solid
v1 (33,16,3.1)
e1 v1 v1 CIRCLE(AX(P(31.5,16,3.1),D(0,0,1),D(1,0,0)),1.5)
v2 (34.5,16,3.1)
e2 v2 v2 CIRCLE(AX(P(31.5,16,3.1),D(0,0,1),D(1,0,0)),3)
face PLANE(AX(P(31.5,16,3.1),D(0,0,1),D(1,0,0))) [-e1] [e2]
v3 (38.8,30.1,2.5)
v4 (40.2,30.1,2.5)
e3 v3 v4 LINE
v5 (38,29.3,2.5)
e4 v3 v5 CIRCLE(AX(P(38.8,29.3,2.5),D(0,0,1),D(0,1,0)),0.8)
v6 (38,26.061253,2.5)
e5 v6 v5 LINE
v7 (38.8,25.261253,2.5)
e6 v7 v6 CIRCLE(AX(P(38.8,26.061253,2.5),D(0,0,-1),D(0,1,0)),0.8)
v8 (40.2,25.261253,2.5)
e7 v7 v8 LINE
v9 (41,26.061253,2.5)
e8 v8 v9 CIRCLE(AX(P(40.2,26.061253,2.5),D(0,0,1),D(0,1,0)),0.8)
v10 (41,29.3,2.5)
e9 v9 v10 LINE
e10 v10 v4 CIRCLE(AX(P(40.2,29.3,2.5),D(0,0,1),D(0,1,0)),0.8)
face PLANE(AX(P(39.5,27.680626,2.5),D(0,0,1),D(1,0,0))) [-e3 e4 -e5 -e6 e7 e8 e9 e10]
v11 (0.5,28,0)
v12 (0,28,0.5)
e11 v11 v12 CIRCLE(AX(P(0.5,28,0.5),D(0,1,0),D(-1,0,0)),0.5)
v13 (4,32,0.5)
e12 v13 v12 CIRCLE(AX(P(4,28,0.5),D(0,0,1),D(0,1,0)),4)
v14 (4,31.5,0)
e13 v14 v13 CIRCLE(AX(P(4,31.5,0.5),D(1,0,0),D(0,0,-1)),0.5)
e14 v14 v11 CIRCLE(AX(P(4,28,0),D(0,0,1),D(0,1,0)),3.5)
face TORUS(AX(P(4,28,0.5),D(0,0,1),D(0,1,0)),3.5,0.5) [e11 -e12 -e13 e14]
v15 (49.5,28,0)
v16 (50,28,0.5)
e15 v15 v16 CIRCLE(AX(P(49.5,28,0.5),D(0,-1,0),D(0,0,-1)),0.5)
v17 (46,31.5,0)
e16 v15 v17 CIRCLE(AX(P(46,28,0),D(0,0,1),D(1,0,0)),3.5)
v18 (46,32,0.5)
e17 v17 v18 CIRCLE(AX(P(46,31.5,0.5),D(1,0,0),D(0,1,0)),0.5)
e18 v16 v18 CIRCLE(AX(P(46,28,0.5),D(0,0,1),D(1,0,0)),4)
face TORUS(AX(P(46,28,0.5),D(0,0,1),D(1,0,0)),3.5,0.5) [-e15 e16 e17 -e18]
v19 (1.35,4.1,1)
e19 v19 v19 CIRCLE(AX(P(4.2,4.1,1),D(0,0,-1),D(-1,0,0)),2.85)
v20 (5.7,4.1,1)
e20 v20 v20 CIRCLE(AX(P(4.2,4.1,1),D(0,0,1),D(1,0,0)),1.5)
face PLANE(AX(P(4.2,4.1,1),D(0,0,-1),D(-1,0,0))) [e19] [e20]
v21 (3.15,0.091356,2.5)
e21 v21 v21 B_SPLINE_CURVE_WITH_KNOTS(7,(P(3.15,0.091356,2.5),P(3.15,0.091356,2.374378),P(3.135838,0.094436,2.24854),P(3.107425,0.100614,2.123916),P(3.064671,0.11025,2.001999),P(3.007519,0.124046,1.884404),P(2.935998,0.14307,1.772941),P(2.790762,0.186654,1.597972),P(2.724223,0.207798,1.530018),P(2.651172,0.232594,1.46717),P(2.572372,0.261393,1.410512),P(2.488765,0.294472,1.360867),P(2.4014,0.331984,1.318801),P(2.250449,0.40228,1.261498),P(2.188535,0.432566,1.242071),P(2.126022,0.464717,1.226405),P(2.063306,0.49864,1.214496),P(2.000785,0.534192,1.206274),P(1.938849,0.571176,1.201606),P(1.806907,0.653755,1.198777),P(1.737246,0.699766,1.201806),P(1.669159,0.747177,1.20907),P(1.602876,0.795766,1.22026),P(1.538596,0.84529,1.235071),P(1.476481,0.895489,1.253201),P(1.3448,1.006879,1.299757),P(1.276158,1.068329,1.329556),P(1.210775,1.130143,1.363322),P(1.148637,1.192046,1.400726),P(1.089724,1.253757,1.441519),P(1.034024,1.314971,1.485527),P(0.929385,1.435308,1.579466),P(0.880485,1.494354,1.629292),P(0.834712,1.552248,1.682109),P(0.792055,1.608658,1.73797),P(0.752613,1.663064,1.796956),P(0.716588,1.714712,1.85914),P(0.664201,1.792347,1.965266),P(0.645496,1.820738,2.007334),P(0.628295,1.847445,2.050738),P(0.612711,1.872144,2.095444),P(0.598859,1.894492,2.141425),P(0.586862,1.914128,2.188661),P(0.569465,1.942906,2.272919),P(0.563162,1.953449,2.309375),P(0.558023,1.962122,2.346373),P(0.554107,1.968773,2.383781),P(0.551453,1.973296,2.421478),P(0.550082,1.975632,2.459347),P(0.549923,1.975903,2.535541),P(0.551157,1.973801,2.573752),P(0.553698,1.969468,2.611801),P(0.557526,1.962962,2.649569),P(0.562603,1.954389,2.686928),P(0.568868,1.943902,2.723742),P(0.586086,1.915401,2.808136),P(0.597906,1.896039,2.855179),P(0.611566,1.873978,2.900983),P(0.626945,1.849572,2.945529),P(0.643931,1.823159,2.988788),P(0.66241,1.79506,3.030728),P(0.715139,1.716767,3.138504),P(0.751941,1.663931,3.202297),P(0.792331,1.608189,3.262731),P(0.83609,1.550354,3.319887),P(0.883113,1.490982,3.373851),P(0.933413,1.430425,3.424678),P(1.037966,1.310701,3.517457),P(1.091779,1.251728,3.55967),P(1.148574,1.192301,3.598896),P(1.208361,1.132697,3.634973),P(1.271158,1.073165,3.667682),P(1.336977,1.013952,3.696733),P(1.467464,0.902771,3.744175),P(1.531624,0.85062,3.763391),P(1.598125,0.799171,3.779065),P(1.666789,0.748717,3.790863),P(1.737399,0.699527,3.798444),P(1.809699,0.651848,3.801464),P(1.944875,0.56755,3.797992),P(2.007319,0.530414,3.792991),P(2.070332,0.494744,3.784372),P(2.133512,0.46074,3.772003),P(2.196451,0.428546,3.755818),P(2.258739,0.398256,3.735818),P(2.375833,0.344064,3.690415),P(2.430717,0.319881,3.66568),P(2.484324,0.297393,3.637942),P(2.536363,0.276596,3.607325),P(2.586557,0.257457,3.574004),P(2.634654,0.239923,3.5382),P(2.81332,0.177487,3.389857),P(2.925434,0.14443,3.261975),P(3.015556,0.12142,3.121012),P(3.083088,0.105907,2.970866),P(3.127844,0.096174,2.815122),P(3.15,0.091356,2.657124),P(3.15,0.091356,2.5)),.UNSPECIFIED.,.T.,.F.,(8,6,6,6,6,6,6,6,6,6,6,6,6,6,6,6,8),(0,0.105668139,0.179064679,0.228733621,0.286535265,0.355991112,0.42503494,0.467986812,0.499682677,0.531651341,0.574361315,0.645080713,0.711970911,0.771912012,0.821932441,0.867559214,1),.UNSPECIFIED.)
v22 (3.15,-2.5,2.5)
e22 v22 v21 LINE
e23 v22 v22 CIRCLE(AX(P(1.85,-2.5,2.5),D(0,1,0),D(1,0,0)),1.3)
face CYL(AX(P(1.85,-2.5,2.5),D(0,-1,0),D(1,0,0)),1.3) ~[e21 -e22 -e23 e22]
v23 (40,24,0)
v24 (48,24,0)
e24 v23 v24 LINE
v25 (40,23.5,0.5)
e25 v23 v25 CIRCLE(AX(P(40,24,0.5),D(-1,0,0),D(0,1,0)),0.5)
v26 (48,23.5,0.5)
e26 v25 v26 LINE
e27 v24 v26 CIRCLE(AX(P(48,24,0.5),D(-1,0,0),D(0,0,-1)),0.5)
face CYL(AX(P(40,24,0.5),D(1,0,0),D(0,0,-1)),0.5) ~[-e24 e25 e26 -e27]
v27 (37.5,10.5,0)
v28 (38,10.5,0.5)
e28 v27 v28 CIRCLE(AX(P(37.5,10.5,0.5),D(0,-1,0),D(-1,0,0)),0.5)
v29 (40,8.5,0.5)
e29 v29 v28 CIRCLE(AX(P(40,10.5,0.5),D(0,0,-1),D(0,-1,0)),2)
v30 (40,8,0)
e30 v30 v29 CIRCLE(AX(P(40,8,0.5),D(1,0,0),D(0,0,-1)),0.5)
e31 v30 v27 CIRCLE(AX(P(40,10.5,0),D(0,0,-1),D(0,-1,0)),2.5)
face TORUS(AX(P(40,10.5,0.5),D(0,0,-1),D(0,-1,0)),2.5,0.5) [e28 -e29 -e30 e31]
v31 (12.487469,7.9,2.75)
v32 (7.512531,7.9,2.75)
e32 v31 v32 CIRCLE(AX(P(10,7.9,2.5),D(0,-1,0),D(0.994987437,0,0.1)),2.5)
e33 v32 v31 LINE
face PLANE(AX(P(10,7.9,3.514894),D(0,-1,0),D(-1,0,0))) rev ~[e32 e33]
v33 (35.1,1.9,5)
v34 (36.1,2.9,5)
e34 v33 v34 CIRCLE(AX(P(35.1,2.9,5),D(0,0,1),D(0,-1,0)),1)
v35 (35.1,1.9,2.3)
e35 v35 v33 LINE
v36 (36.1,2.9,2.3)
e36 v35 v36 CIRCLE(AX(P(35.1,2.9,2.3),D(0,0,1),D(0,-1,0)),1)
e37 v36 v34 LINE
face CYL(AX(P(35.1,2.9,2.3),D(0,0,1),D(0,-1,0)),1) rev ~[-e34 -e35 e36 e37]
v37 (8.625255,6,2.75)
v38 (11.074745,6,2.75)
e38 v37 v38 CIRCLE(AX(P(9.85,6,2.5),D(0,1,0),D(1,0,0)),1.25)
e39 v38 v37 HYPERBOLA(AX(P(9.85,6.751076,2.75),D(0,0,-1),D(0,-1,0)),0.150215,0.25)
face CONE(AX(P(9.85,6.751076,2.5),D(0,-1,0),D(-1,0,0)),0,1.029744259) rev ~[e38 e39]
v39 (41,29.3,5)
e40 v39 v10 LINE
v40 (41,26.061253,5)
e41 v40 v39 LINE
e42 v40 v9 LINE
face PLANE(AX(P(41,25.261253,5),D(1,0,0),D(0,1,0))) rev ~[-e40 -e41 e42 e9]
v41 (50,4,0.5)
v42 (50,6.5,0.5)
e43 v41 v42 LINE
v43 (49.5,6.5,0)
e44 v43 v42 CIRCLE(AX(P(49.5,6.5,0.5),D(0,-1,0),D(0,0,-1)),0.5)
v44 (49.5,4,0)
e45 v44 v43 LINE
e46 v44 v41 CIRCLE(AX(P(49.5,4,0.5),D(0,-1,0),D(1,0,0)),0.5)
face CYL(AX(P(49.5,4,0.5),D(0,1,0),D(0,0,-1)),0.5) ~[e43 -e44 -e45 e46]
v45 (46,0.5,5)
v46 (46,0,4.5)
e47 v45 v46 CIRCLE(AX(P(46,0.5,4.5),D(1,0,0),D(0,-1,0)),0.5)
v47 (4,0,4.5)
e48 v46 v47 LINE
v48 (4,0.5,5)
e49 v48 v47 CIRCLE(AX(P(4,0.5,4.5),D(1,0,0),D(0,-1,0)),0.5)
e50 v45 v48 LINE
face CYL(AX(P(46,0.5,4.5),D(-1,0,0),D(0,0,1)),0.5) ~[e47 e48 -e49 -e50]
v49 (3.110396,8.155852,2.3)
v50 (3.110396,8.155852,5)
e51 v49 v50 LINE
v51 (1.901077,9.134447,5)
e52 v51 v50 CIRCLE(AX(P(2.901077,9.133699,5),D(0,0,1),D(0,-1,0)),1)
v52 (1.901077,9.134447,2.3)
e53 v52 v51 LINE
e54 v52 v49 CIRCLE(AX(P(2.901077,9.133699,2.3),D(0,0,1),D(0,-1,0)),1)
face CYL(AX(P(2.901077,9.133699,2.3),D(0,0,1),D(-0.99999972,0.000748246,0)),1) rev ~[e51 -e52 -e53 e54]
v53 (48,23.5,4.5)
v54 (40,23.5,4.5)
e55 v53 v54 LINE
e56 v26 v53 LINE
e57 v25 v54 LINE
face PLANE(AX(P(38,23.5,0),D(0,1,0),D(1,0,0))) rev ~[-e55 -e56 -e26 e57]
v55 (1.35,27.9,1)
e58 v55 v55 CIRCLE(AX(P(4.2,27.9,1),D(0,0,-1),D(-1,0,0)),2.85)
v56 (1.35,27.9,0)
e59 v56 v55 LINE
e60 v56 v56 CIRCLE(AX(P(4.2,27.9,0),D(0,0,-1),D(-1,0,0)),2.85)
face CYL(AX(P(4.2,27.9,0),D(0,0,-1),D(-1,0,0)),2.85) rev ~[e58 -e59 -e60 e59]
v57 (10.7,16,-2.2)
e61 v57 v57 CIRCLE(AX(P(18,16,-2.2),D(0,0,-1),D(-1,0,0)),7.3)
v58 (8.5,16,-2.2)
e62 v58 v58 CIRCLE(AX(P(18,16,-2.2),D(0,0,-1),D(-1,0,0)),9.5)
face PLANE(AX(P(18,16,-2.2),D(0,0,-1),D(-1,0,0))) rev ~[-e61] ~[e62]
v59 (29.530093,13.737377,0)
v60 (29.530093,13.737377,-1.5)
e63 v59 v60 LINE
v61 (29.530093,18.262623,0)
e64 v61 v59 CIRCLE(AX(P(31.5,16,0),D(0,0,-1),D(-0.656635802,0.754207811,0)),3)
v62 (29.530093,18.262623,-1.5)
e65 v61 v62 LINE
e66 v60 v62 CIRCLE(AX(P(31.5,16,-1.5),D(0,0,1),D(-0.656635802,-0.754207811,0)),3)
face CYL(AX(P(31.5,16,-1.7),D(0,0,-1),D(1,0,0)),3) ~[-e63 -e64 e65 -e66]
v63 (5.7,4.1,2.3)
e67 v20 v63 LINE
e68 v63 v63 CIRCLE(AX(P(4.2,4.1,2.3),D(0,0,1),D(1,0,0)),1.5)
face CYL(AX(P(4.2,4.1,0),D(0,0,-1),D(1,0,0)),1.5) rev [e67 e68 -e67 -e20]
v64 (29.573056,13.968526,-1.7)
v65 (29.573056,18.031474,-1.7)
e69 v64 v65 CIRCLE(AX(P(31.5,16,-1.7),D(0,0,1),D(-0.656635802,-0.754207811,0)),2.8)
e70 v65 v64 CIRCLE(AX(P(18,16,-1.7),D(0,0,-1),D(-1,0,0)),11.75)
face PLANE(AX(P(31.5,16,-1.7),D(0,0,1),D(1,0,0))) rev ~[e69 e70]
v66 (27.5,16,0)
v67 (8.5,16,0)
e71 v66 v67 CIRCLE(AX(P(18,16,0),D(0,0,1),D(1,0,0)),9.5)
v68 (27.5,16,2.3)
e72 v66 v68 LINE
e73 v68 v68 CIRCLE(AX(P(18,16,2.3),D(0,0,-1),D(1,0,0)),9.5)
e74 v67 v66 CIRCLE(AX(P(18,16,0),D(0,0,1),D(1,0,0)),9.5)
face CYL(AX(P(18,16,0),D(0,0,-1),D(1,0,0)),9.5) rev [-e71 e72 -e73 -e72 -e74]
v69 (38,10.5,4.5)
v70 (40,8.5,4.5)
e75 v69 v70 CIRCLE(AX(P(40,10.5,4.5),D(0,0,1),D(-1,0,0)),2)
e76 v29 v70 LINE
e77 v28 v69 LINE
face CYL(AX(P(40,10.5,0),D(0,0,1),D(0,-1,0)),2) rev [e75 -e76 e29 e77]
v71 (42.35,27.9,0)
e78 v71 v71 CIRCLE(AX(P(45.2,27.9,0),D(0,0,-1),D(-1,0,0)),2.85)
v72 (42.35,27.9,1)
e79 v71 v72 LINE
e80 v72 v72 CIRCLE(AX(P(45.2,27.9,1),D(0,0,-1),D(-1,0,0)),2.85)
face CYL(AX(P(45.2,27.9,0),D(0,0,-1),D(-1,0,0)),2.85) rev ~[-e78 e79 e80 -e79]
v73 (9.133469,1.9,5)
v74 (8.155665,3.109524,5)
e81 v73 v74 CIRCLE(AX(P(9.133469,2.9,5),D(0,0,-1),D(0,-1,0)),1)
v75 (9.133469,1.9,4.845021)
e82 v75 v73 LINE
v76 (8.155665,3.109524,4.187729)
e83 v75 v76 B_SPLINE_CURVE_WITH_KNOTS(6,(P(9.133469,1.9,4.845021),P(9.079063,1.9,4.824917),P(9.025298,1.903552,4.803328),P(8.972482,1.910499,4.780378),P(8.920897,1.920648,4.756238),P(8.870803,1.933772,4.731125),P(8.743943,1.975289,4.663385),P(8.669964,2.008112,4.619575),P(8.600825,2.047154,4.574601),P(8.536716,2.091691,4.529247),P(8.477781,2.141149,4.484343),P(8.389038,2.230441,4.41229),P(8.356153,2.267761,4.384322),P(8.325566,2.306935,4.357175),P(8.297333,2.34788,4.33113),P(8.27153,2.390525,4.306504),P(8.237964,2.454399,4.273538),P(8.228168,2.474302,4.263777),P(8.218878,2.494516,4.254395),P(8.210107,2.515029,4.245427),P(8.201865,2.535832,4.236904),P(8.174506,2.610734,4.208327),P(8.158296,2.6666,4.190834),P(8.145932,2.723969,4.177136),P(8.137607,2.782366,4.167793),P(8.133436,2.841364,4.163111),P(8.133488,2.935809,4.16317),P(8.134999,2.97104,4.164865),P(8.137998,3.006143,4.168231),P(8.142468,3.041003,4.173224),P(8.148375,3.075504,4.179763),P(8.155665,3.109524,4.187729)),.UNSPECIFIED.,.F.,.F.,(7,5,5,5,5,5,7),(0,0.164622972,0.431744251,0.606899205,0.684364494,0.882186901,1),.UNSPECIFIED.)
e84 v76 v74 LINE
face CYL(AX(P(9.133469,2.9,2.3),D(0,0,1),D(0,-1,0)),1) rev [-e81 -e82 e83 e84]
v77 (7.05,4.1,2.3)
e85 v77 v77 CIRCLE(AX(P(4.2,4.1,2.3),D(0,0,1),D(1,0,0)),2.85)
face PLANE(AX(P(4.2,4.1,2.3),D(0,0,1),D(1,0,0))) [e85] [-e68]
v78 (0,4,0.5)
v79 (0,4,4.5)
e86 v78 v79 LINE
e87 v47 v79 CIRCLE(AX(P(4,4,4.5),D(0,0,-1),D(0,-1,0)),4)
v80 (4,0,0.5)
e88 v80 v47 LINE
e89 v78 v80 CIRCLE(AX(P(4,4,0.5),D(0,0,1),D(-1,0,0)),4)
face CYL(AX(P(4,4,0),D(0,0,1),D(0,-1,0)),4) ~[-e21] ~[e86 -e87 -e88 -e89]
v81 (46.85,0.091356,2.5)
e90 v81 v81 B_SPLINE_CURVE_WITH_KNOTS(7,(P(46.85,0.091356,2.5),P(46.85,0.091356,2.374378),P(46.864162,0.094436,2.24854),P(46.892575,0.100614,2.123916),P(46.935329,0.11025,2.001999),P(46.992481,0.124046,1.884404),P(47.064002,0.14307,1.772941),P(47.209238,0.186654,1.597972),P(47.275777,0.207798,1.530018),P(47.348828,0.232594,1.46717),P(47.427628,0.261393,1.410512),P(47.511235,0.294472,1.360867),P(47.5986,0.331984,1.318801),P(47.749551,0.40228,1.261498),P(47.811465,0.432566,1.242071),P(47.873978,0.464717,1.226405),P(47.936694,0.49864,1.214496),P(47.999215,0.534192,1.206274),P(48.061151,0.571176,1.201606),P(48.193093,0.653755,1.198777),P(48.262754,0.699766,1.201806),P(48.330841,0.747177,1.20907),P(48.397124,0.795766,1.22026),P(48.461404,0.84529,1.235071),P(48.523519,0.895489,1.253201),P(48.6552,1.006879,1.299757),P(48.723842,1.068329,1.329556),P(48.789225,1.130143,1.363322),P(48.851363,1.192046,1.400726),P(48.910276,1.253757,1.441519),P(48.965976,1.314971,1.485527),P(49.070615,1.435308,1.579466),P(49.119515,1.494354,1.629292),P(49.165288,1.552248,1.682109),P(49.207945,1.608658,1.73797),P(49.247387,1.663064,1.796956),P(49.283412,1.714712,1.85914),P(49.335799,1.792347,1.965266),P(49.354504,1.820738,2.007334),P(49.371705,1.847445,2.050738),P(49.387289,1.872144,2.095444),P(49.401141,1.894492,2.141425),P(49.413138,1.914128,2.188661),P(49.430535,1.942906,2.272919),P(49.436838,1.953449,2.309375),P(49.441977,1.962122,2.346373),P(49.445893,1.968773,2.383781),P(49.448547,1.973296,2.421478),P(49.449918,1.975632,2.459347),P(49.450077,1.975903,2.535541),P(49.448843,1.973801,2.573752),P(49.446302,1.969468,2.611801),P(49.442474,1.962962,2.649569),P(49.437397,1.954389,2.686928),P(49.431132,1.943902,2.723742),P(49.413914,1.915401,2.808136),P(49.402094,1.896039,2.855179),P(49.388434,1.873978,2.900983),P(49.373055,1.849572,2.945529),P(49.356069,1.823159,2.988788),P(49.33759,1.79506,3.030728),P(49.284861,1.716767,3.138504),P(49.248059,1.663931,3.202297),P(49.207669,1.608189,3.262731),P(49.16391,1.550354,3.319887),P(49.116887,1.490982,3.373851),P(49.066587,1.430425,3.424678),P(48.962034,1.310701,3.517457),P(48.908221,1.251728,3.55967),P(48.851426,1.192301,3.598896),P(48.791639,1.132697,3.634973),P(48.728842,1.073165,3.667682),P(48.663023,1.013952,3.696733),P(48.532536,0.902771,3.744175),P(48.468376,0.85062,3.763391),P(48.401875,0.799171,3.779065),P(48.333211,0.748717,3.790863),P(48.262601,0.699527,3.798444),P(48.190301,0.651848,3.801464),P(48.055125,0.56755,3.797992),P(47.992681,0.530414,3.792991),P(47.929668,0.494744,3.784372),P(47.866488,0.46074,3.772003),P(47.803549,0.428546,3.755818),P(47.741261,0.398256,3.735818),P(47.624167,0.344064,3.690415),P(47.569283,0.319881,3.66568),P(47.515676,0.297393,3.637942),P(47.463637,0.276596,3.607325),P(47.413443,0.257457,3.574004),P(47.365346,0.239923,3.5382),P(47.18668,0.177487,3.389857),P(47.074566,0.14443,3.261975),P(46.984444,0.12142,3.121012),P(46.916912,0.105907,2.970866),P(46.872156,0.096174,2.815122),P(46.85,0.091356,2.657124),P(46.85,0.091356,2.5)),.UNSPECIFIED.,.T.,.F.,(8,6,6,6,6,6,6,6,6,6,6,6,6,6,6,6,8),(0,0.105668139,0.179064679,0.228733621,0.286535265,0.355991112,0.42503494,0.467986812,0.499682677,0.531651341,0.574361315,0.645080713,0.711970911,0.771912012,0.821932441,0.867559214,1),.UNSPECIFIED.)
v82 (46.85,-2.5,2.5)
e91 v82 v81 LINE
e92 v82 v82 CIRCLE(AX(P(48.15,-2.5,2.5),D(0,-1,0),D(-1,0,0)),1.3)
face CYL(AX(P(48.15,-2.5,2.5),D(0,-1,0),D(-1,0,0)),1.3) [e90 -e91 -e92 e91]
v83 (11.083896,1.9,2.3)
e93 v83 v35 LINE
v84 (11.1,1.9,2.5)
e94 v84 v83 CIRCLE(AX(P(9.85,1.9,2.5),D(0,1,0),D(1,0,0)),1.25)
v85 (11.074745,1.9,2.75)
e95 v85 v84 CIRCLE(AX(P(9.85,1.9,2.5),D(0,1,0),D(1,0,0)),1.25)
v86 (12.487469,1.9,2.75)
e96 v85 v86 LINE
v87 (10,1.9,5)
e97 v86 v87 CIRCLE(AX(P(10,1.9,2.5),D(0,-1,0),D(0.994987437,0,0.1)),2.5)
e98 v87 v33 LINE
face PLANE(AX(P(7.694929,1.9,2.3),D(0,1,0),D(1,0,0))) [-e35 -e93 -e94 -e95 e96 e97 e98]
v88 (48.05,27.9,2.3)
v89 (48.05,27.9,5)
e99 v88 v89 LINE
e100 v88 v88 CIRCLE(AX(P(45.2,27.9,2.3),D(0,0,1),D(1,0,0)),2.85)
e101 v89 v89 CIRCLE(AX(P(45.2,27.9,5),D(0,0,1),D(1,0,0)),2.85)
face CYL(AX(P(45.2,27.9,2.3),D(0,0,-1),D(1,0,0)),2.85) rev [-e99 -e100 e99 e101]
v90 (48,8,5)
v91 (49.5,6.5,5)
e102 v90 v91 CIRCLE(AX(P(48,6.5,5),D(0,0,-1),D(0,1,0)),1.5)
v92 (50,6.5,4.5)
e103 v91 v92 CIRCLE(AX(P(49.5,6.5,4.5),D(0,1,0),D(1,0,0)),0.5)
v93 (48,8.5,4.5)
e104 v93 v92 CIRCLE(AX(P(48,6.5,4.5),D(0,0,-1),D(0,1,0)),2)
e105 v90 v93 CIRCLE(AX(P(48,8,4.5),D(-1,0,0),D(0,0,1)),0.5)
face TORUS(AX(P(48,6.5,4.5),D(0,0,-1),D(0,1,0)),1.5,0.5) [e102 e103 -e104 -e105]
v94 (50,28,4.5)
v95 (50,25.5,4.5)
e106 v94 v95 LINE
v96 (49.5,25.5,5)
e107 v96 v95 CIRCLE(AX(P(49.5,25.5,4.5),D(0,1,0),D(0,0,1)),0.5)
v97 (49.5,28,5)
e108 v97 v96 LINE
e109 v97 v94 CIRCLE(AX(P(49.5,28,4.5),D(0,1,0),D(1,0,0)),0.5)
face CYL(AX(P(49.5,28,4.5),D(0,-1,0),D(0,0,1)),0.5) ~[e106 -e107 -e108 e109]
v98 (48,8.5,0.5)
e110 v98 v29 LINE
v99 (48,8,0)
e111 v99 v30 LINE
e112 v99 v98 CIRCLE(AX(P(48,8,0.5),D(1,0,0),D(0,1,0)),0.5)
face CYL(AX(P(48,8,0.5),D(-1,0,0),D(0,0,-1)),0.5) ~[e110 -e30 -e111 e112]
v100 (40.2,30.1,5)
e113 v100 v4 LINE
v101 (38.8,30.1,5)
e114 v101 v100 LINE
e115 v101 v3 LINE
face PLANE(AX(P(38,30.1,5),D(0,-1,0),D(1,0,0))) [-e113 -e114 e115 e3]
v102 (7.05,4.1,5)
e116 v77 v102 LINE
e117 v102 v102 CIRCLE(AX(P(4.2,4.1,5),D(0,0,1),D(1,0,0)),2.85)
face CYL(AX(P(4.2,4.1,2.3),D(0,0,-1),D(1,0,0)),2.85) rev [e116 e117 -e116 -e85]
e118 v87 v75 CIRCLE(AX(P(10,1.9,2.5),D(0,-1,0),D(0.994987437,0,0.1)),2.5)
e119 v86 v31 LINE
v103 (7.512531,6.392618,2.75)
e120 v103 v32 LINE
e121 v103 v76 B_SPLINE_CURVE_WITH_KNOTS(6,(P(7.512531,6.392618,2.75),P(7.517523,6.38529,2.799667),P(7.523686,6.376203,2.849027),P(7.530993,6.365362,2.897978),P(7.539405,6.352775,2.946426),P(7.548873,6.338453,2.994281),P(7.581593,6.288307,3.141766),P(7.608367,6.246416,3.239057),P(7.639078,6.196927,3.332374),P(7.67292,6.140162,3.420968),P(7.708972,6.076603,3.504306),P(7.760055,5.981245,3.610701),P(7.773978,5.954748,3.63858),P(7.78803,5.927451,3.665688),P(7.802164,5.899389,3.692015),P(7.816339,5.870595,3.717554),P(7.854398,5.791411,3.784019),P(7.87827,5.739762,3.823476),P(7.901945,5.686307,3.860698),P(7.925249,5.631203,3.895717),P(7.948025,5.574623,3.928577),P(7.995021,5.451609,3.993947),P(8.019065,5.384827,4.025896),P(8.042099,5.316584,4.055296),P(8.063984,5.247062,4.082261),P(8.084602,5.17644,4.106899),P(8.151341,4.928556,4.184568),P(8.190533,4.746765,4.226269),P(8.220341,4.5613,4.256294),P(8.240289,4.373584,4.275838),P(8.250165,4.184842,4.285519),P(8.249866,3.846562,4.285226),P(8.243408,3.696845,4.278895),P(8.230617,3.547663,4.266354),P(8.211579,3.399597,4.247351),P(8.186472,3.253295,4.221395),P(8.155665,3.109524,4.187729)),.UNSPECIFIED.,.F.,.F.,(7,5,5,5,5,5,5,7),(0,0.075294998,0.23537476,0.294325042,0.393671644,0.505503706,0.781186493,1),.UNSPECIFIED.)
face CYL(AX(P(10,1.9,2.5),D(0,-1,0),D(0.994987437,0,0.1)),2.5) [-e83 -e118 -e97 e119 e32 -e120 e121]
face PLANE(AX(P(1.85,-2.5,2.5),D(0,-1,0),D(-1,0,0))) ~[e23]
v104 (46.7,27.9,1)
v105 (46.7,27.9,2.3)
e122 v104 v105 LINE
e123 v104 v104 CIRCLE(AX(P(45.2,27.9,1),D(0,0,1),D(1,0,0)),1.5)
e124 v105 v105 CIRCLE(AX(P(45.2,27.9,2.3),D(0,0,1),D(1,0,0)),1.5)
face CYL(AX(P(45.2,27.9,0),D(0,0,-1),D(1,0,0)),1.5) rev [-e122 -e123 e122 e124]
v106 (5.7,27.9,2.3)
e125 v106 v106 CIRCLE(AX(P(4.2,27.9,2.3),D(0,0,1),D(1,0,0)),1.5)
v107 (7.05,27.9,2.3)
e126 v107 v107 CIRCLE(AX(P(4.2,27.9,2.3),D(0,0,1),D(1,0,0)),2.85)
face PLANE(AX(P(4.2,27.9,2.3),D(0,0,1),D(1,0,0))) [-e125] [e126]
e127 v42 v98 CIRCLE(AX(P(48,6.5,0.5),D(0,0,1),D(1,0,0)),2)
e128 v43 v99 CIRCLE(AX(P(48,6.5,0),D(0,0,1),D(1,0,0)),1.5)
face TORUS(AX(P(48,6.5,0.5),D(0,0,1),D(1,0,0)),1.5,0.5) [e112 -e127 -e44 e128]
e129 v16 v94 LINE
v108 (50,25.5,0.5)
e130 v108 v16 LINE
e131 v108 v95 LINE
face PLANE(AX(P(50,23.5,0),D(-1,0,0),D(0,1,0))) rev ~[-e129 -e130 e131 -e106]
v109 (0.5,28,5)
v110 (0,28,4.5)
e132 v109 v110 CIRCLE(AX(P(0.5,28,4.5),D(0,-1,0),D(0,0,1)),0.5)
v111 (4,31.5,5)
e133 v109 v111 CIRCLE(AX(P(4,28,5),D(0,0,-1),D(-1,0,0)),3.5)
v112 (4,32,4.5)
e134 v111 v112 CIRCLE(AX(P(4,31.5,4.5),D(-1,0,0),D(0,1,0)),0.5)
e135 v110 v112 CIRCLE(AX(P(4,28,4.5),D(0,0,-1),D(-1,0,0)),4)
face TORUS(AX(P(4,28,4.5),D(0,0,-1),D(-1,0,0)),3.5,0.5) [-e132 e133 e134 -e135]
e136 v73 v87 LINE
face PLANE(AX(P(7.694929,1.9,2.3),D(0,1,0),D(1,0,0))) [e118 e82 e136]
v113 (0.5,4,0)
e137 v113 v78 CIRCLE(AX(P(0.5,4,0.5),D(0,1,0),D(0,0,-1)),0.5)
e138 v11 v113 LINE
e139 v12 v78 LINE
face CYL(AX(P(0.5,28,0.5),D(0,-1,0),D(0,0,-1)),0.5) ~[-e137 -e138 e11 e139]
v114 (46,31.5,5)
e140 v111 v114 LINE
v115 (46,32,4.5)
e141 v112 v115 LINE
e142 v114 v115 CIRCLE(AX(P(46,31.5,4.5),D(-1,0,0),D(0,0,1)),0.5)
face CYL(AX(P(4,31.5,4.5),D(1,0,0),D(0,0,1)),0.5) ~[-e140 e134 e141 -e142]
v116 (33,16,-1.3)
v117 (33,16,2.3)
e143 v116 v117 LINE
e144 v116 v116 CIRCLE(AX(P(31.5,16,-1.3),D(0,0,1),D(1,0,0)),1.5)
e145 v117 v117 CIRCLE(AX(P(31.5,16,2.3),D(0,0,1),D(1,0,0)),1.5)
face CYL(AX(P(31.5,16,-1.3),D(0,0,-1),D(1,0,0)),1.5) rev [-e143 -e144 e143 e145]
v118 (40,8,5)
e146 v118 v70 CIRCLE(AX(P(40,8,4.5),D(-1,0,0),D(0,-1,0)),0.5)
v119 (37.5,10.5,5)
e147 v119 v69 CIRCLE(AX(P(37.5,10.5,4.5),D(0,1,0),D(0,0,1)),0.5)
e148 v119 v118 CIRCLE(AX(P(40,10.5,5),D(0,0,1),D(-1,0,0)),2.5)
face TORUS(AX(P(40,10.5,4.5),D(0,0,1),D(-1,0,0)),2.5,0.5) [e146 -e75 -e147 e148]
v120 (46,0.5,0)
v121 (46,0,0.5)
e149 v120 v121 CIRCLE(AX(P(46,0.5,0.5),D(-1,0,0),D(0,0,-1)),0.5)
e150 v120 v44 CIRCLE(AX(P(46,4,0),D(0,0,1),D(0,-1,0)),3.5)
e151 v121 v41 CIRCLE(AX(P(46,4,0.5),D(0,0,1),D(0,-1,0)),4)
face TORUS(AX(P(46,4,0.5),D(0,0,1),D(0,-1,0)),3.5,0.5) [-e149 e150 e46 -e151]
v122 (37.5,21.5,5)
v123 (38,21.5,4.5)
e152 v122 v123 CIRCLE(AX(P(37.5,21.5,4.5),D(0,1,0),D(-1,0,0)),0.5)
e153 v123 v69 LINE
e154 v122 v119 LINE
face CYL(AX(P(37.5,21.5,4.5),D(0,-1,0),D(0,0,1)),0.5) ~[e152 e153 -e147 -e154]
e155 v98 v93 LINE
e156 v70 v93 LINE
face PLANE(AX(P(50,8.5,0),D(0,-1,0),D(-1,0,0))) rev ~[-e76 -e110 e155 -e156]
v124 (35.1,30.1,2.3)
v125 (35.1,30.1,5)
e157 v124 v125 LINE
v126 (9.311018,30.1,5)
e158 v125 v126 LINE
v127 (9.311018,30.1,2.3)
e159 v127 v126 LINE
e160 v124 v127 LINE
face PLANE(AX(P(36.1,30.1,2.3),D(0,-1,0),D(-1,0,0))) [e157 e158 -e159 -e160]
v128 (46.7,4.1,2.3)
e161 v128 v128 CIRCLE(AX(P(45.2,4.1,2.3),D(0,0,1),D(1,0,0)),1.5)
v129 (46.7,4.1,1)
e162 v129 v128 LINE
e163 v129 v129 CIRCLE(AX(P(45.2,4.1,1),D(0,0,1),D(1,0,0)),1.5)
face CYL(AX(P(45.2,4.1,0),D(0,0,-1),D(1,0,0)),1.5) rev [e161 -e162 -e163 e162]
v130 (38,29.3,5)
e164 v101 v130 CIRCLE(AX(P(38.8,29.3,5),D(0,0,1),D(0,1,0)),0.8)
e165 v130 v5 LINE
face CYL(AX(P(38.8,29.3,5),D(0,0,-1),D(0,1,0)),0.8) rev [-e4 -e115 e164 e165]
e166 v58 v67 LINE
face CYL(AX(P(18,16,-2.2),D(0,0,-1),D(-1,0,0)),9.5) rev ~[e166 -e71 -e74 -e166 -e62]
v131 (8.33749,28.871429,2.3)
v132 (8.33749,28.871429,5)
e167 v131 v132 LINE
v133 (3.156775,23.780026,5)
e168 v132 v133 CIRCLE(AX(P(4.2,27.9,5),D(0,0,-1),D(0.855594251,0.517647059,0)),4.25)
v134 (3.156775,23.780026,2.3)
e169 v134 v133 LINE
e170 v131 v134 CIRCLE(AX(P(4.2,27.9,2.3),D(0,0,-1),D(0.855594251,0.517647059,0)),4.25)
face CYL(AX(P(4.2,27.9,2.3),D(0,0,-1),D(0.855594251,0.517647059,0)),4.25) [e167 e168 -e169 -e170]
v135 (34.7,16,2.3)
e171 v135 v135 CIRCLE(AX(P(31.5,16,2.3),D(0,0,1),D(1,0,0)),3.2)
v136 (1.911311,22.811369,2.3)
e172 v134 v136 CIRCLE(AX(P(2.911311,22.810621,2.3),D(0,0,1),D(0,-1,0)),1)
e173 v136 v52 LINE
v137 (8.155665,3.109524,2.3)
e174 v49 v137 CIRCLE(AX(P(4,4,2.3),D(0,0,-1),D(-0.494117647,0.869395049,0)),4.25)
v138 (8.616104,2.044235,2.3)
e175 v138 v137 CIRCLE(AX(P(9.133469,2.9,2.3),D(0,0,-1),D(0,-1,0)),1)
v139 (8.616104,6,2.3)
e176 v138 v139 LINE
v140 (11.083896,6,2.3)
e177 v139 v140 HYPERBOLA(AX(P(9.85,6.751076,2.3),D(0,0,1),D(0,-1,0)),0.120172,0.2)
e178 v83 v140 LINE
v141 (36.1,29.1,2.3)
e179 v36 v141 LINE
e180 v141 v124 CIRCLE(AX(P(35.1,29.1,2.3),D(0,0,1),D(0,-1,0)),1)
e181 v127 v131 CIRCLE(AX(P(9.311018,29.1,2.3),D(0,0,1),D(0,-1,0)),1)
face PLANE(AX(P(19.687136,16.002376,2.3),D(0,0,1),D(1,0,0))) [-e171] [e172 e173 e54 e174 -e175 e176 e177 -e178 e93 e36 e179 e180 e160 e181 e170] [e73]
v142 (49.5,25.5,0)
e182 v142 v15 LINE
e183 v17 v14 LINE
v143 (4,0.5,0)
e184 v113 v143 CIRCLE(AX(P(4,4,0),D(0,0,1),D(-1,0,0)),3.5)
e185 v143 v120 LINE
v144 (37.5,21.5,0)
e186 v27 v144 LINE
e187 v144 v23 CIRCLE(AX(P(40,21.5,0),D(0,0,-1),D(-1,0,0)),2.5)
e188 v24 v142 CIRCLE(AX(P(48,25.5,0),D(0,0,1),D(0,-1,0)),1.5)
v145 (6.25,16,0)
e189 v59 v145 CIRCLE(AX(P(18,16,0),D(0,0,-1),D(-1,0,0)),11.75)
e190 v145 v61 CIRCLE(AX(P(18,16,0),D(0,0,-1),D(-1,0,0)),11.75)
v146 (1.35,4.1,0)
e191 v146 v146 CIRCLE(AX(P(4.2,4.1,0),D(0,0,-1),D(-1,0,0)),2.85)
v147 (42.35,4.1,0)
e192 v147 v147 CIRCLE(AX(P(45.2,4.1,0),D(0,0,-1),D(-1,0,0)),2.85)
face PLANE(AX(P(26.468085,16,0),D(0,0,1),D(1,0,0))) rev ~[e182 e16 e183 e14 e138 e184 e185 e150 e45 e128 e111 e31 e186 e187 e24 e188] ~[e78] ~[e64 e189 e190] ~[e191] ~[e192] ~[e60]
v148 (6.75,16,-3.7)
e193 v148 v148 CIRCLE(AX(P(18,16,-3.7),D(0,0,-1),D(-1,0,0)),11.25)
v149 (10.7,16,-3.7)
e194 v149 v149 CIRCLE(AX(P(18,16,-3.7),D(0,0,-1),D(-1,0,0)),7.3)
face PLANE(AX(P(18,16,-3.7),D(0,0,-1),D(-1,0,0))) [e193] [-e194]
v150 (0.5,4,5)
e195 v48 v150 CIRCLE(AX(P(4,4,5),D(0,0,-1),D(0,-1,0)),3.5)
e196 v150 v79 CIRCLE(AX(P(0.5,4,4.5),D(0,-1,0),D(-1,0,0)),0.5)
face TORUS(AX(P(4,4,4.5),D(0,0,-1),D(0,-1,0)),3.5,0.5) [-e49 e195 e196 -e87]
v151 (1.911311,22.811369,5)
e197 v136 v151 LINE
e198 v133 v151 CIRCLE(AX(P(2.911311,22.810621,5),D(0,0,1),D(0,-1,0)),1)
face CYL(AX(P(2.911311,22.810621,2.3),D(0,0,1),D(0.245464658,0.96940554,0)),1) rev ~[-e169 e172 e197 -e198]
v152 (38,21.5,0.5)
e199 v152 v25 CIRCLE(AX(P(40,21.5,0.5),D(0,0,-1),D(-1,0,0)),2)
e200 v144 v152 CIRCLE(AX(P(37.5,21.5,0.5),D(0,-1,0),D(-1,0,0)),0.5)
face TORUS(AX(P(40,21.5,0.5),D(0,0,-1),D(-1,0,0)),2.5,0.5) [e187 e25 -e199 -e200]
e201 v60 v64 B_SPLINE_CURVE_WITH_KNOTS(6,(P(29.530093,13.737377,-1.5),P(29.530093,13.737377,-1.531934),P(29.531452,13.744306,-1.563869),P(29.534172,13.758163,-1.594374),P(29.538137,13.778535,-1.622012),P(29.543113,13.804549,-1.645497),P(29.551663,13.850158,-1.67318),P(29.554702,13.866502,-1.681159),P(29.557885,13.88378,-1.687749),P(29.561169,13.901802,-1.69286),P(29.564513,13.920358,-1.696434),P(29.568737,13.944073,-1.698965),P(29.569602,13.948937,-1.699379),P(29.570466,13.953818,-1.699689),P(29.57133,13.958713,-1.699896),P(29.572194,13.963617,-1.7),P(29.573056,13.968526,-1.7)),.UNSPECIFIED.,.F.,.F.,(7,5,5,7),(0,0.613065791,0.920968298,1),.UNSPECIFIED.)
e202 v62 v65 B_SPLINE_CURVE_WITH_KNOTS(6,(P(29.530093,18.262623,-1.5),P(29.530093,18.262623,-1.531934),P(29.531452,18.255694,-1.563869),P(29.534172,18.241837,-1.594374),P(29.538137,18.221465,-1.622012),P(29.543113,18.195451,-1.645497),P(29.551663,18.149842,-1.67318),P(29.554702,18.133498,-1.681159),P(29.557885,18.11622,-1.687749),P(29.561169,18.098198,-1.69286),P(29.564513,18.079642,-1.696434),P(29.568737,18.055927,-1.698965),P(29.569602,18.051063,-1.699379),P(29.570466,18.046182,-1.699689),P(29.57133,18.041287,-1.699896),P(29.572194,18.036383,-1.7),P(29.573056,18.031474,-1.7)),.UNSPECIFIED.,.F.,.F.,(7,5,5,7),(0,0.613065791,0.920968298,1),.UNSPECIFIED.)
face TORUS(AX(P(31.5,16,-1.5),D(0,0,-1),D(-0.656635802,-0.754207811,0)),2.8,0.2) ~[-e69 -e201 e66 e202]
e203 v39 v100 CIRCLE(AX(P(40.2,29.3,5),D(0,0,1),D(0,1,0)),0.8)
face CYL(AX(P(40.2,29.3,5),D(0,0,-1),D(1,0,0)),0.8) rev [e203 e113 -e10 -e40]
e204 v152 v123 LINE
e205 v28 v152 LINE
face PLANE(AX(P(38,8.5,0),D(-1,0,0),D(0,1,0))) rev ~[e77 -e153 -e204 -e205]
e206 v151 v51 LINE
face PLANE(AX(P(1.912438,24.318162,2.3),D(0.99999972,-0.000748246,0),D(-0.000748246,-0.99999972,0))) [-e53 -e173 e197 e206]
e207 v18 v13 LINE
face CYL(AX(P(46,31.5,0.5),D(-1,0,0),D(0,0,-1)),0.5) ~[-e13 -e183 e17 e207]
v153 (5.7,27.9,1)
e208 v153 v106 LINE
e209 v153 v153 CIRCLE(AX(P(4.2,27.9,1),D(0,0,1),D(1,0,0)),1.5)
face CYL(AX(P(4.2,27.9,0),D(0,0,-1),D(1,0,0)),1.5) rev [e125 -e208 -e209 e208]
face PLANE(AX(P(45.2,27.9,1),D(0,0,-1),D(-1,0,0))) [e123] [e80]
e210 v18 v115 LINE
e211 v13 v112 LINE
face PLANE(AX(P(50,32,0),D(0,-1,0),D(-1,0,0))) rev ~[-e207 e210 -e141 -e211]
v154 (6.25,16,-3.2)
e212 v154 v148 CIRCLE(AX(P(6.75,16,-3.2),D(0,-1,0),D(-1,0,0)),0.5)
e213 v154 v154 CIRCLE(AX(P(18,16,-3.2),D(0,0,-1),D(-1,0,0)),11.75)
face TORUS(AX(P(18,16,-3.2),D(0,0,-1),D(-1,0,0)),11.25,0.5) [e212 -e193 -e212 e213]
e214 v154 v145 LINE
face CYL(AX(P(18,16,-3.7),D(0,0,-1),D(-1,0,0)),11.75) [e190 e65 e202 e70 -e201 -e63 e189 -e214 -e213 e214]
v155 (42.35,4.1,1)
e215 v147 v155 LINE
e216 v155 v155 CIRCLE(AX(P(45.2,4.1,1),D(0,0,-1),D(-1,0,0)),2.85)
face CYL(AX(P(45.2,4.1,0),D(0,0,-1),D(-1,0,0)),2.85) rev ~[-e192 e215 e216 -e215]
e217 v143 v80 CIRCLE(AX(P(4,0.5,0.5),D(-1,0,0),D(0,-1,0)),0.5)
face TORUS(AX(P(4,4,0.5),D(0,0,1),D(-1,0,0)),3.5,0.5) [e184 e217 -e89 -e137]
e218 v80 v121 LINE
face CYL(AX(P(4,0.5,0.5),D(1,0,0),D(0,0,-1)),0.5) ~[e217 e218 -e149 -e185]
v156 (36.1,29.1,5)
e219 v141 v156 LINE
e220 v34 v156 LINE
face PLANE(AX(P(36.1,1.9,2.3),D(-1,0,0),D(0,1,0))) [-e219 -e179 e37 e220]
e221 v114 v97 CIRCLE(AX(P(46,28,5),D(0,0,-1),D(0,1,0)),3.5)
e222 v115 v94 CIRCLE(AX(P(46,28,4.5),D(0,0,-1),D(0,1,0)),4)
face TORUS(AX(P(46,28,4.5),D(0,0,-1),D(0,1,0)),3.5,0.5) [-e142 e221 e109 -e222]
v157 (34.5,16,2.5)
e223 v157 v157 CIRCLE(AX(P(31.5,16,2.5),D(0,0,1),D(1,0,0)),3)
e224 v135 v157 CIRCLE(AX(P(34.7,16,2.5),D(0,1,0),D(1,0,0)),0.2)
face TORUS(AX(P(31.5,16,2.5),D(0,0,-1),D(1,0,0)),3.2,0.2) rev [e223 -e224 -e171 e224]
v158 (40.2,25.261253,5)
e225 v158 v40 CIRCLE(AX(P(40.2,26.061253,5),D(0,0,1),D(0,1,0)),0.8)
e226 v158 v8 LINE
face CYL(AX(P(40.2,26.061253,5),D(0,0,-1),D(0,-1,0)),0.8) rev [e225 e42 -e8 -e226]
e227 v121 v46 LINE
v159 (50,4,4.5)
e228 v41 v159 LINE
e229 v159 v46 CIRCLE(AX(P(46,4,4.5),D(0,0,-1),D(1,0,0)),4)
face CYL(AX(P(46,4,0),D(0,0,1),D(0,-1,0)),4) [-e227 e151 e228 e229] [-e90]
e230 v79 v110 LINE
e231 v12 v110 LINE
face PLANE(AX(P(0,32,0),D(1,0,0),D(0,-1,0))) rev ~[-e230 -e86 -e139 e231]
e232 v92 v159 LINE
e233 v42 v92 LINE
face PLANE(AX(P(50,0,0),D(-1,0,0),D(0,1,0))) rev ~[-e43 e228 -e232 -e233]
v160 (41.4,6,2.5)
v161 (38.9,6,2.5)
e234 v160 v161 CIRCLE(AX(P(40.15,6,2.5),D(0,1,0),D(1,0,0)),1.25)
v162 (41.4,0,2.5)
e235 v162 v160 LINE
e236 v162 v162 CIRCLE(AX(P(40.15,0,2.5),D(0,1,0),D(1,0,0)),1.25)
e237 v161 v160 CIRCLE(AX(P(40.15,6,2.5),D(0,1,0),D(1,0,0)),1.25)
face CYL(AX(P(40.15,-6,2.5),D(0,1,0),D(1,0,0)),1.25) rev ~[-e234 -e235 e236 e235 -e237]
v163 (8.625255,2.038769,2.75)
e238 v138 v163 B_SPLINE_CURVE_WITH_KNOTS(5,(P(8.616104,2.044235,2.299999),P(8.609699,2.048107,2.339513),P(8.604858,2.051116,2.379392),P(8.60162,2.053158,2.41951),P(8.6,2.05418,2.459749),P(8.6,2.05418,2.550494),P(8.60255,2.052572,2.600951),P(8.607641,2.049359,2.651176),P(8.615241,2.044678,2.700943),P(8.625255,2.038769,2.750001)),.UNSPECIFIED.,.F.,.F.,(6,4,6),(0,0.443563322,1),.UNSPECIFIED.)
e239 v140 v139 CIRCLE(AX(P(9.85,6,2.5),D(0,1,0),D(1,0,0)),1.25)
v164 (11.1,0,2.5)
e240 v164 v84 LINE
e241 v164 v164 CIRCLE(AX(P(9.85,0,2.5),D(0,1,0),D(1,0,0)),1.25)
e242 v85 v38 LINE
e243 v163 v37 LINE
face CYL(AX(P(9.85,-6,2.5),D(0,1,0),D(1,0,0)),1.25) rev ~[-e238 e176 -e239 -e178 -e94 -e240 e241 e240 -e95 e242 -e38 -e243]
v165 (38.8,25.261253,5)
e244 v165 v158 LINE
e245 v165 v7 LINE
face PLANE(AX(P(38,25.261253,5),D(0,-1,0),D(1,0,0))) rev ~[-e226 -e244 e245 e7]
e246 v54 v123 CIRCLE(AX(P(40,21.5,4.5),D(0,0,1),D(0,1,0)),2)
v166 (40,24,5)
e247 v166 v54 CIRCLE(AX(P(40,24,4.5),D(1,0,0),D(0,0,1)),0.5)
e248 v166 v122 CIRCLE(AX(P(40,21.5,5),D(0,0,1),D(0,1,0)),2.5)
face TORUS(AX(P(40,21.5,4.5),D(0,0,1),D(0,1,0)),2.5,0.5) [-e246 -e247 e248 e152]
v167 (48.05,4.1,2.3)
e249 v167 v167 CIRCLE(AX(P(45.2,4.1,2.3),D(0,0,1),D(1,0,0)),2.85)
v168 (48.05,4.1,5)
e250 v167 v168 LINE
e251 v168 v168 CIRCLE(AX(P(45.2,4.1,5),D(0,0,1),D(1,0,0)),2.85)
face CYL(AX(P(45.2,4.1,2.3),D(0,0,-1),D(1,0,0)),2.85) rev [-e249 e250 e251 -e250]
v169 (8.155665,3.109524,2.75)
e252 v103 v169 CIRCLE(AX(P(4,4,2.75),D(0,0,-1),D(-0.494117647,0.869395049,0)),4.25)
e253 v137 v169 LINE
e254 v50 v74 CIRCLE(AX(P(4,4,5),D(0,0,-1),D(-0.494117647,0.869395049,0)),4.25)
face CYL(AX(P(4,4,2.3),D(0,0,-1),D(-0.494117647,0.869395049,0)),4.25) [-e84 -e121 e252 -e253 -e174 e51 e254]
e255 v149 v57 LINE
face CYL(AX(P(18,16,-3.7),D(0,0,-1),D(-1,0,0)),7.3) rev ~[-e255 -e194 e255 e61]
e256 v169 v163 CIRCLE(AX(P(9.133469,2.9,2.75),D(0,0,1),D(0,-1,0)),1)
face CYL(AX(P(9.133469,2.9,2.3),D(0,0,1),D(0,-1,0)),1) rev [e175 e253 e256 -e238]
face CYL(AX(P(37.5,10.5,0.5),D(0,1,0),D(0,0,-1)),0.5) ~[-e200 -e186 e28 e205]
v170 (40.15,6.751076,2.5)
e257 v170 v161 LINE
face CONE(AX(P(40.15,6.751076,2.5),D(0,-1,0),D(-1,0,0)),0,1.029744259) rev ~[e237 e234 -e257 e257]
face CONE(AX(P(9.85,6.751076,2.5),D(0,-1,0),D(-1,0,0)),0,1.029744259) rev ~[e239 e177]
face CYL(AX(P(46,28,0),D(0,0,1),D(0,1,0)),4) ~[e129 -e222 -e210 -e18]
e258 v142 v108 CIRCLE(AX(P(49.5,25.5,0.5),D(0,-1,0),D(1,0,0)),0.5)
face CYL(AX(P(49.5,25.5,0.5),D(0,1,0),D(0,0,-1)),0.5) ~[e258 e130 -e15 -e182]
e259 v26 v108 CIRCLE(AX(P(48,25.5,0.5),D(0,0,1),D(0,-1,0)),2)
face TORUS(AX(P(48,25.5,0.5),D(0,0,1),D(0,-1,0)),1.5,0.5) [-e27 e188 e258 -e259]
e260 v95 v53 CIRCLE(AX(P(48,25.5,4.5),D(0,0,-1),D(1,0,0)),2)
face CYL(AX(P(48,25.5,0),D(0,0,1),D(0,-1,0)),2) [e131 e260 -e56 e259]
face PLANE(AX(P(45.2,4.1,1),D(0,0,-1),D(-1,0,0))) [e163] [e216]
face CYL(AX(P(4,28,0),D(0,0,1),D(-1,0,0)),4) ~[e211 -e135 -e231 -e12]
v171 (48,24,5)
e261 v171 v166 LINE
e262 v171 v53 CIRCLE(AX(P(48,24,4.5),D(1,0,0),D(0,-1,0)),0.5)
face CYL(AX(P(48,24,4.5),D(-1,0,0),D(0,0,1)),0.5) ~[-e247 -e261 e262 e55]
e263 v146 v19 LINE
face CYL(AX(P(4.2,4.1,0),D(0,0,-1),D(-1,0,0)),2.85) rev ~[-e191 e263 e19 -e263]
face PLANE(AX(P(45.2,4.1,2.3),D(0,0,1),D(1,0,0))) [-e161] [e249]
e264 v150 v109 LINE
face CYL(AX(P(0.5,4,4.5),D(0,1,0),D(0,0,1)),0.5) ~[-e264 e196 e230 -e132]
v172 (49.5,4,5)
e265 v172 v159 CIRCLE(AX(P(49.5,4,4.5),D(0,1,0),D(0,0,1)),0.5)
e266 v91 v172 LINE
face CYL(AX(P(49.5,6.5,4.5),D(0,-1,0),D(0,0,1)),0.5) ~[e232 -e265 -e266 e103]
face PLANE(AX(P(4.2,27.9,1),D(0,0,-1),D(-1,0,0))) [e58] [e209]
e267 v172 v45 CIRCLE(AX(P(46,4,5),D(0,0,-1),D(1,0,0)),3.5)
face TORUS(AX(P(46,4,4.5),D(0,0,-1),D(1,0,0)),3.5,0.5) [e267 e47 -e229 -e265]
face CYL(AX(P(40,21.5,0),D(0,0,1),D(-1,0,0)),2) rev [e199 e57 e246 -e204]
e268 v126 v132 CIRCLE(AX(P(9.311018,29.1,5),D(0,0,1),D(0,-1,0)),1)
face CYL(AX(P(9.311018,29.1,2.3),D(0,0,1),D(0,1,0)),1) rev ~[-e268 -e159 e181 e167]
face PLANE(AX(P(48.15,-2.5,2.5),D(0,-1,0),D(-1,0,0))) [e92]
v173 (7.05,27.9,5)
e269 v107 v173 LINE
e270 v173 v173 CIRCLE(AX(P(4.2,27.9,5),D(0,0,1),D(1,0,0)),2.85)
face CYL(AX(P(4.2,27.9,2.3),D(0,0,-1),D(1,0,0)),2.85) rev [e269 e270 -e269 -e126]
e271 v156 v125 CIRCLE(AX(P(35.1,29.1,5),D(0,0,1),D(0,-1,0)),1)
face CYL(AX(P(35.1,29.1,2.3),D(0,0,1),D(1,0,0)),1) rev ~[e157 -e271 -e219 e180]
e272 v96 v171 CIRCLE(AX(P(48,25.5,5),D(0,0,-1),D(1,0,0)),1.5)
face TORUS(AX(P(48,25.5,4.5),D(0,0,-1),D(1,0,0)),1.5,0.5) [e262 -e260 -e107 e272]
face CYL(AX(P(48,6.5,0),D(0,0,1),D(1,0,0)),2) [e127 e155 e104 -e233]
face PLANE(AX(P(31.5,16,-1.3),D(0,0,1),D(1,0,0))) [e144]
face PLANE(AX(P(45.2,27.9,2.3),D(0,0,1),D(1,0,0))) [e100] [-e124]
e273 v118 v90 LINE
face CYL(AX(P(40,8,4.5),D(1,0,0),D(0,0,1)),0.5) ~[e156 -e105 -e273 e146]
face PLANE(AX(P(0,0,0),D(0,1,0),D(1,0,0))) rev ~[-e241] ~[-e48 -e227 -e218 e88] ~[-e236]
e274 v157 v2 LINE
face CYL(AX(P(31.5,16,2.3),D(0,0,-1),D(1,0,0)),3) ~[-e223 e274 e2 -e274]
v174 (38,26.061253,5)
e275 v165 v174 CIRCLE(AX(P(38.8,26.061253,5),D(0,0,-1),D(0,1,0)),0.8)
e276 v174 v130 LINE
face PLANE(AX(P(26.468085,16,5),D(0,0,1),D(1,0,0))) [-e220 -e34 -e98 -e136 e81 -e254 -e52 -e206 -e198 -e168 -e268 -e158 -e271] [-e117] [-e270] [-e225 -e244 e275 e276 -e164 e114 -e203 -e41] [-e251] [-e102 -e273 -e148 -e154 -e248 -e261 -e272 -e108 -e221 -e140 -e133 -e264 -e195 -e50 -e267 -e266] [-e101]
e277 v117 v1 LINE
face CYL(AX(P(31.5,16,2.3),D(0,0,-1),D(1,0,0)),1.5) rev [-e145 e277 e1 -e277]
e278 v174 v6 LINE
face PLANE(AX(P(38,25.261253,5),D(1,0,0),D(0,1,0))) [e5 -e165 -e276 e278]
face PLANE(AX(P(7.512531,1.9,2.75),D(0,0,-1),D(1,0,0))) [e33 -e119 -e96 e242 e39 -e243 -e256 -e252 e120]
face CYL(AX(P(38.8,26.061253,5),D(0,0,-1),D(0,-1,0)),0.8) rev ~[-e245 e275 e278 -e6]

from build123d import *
from build123d.topology import SkipClean

# Parameters (mm, degrees)
SKETCH_1_R             = 1.5
SKETCH_1_R_2           = 9.5
EXTRUDE_1_DEPTH        = 5
CUT_EXTRUDE_START      = -2.7
SKETCH_2_R             = 2.85
SKETCH_2_R_2           = 1.5
CUT_EXTRUDE_1_DEPTH    = 2.7
FILLET_1_R             = 1
FILLET_2_R             = 4
FILLET_3_R             = 2
EXTRUDE_START          = 2.2
SKETCH_3_R             = 11.75
SKETCH_3_R_2           = 9.5
EXTRUDE_2_DEPTH        = 2.2
EXTRUDE_START_2        = 1.5
SKETCH_4_R             = 11.75
SKETCH_4_R_2           = 7.3
EXTRUDE_3_DEPTH        = 1.5
FILLET_4_R             = 0.5
FILLET_5_R             = 0.5
EXTRUDE_5_REACH        = 62.953
EXTRUDE_5_END_RADIUS   = 4
SKETCH_5_R             = 1.3
EXTRUDE_6_DEPTH        = 6
HOLE_WIZARD_M3_2_D     = 2.5
HOLE_WIZARD_M3_2_DEPTH = 6
HOLE_WIZARD_M3_2_TIP   = 0.751075774
FILLET_6_R             = 0.5
SKETCH_15_W            = 3
SKETCH_15_H            = 4.838747272
CUT_EXTRUDE_2_DEPTH    = 2.5
FILLET_7_R             = 0.8
SKETCH_16_R            = 3
SKETCH_16_R_2          = 1.5
EXTRUDE_9_DEPTH        = 0.8
EXTRUDE_START_3        = -4
SKETCH_16_2_R          = 3
EXTRUDE_10_DEPTH       = 4
CUT_EXTRUDE_START_2    = -3.6
SKETCH_16_3_R          = 1.5
CUT_EXTRUDE_3_DEPTH    = 3.6
FILLET_8_R             = 0.2
SKETCH_17_R            = 2.85
SKETCH_17_R_2          = 1.5
CUT_EXTRUDE_4_DEPTH    = 1


with BuildPart() as part:
    # 草图1 → 凸台-拉伸1 (new body)
    with BuildSketch(Plane.XY):
        Polygon((0, 0), (50, 0), (50, 8.5), (38, 8.5), (38, 23.5), (50, 23.5), (50, 32), (0, 32), align=None)
        with Locations((4.2, 27.9)):
            Circle(SKETCH_1_R, mode=Mode.SUBTRACT)
        with Locations((45.2, 27.9)):
            Circle(SKETCH_1_R, mode=Mode.SUBTRACT)
        with Locations((45.2, 4.1)):
            Circle(SKETCH_1_R, mode=Mode.SUBTRACT)
        with Locations((4.2, 4.1)):
            Circle(SKETCH_1_R, mode=Mode.SUBTRACT)
        with Locations((18, 16)):
            Circle(SKETCH_1_R_2, mode=Mode.SUBTRACT)
    extrude(amount=EXTRUDE_1_DEPTH)

    # 草图2 → 切除-拉伸1 (cut)
    # profile 1 of 5: a face of its own
    with BuildSketch(Plane.XY.offset(5).offset(CUT_EXTRUDE_START)):
        with BuildLine():
            Line((7.694928957, 1.9), (36.1, 1.9))
            Line((36.1, 1.9), (36.1, 30.1))
            Line((36.1, 30.1), (7.836275567, 30.1))
            ThreePointArc((7.836275567, 30.1), (7.168529783, 24.858564332), (1.912438276, 24.318162293))
            Line((1.912438276, 24.318162293), (1.9, 7.694928957))
            ThreePointArc((1.9, 7.694928957), (7.00520382, 7.00520382), (7.694928957, 1.9))
        make_face()
    # profile 2 of 5: a face of its own
    with BuildSketch(Plane.XY.offset(5).offset(CUT_EXTRUDE_START)):
        with Locations((4.2, 27.9)):
            Circle(SKETCH_2_R)
        with Locations((4.2, 27.9)):
            Circle(SKETCH_2_R_2, mode=Mode.SUBTRACT)
    # profile 3 of 5: a face of its own
    with BuildSketch(Plane.XY.offset(5).offset(CUT_EXTRUDE_START)):
        with Locations((4.2, 4.1)):
            Circle(SKETCH_2_R)
        with Locations((4.2, 4.1)):
            Circle(SKETCH_2_R_2, mode=Mode.SUBTRACT)
    # profile 4 of 5: a face of its own
    with BuildSketch(Plane.XY.offset(5).offset(CUT_EXTRUDE_START)):
        with Locations((45.2, 4.1)):
            Circle(SKETCH_2_R)
        with Locations((45.2, 4.1)):
            Circle(SKETCH_2_R_2, mode=Mode.SUBTRACT)
    # profile 5 of 5: a face of its own
    with BuildSketch(Plane.XY.offset(5).offset(CUT_EXTRUDE_START)):
        with Locations((45.2, 27.9)):
            Circle(SKETCH_2_R)
        with Locations((45.2, 27.9)):
            Circle(SKETCH_2_R_2, mode=Mode.SUBTRACT)
    extrude(amount=CUT_EXTRUDE_1_DEPTH, mode=Mode.SUBTRACT)

    # 圆角1
    fillet_1_edges = [part.edges().sort_by_distance(p)[0] for p in [
        (36.1, 1.9, 3.65),
        (7.836275567, 30.1, 3.65),
        (1.912438276, 24.318162293, 3.65),
        (1.9, 7.694928957, 3.65),
        (7.694928957, 1.9, 3.65),
        (36.1, 30.1, 3.65),
    ]]
    fillet(fillet_1_edges, radius=FILLET_1_R)

    # 圆角2
    fillet_2_edges = [part.edges().sort_by_distance(p)[0] for p in [
        (0, 0, 2.5),
        (0, 32, 2.5),
        (50, 0, 2.5),
        (50, 32, 2.5),
    ]]
    fillet(fillet_2_edges, radius=FILLET_2_R)

    # 圆角3
    fillet_3_edges = [part.edges().sort_by_distance(p)[0] for p in [
        (38, 23.5, 2.5),
        (38, 8.5, 2.5),
        (50, 8.5, 2.5),
        (50, 23.5, 2.5),
    ]]
    fillet(fillet_3_edges, radius=FILLET_3_R)

    # 草图3 → 凸台-拉伸2 (add)
    with SkipClean():  # the faces are left unmerged after this step: merging them gives an invalid solid
        with BuildSketch(Plane(origin=(0, 0, 0), x_dir=(-1, 0, 0), z_dir=(0, 0, -1)).offset(EXTRUDE_START)):
            with Locations((-18, 16)):
                Circle(SKETCH_3_R)
            with Locations((-18, 16)):
                Circle(SKETCH_3_R_2, mode=Mode.SUBTRACT)
        extrude(amount=-EXTRUDE_2_DEPTH)

    # 草图4 → 凸台-拉伸3 (add)
    with SkipClean():  # the faces are left unmerged after this step: merging them gives an invalid solid
        with BuildSketch(Plane(origin=(0, 0, -2.2), x_dir=(-1, 0, 0), z_dir=(0, 0, -1)).offset(EXTRUDE_START_2)):
            with Locations((-18, 16)):
                Circle(SKETCH_4_R)
            with Locations((-18, 16)):
                Circle(SKETCH_4_R_2, mode=Mode.SUBTRACT)
        extrude(amount=-EXTRUDE_3_DEPTH)

    # 圆角4
    fillet_4_edges = [part.edges().sort_by_distance(p)[0] for p in [
        (29.75, 16, -3.7),
    ]]
    fillet(fillet_4_edges, radius=FILLET_4_R)

    # 圆角5
    fillet_5_edges = [part.edges().sort_by_distance(p)[0] for p in [
        (38.585786438, 22.914213562, 0),
        (38, 16, 0),
        (38.585786438, 9.085786438, 0),
        (44, 8.5, 0),
        (49.414213562, 7.914213562, 0),
        (50, 5.25, 0),
        (48.828427125, 1.171572875, 0),
        (25, 0, 0),
        (1.171572875, 1.171572875, 0),
        (0, 16, 0),
        (1.171572875, 30.828427125, 0),
        (25, 32, 0),
        (48.828427125, 30.828427125, 0),
        (50, 26.75, 0),
        (49.414213562, 24.085786438, 0),
        (44, 23.5, 0),
    ]]
    fillet(fillet_5_edges, radius=FILLET_5_R)

    # 凸台-拉伸5: up to this cylinder (the profile starts outside it)
    extrude_5_end = Plane(origin=(46, 4, 2.5), z_dir=(0, 0, -1)) * Cylinder(EXTRUDE_5_END_RADIUS, 134.906, mode=Mode.PRIVATE)
    # 草图5 → 凸台-拉伸5 (add, up to the surface)
    with BuildSketch(Plane(origin=(0, -2.5, 0), x_dir=(-1, 0, 0), z_dir=(0, -1, 0)), mode=Mode.PRIVATE) as extrude_5_sk1:
        with Locations((-48.15, -2.5)):
            Circle(SKETCH_5_R)
    extrude_5_tool1 = extrude(extrude_5_sk1.sketch, amount=-EXTRUDE_5_REACH, mode=Mode.PRIVATE) - extrude_5_end
    extrude_5 = extrude_5_tool1.solids().sort_by_distance((48.15, -2.5, 2.5))[0]
    add(extrude_5)

    # 镜向3: 凸台-拉伸5 across plane
    add(extrude_5.mirror(Plane(origin=(25, 0, 0), x_dir=(0, 0, 1), z_dir=(1, 0, 0))))

    # 草图8 → 凸台-拉伸6 (add)
    with BuildSketch(Plane(origin=(0, 1.9, 0), x_dir=(1, 0, 0), z_dir=(0, 1, 0))):
        with BuildLine():
            Line((7.512531407, -2.75), (12.487468593, -2.75))
            ThreePointArc((12.487468593, -2.75), (10, -5), (7.512531407, -2.75))
        make_face()
    extrude(amount=EXTRUDE_6_DEPTH)

    # M3 螺纹孔2
    with Locations(Plane(origin=(0, 0, 0), x_dir=(-1, 0, 0), z_dir=(0, -1, 0))):
        with Locations((-9.85, -2.5), (-40.15, -2.5)):
            Hole(HOLE_WIZARD_M3_2_D / 2, depth=HOLE_WIZARD_M3_2_DEPTH)
            with Locations((0, 0, -(HOLE_WIZARD_M3_2_DEPTH + HOLE_WIZARD_M3_2_TIP / 2))):  # 118° drill point
                Cone(0, HOLE_WIZARD_M3_2_D / 2, HOLE_WIZARD_M3_2_TIP, mode=Mode.SUBTRACT)

    # 圆角6
    fillet_6_edges = [part.edges().sort_by_distance(p)[0] for p in [
        (1.171572875, 1.171572875, 5),
        (0, 16, 5),
        (1.171572875, 30.828427125, 5),
        (25, 32, 5),
        (48.828427125, 30.828427125, 5),
        (50, 26.75, 5),
        (49.414213562, 24.085786438, 5),
        (44, 23.5, 5),
        (38.585786438, 22.914213562, 5),
        (38, 16, 5),
        (38.585786438, 9.085786438, 5),
        (44, 8.5, 5),
        (49.414213562, 7.914213562, 5),
        (50, 5.25, 5),
        (48.828427125, 1.171572875, 5),
        (25, 0, 5),
    ]]
    fillet(fillet_6_edges, radius=FILLET_6_R)

    # 草图15 → 切除-拉伸2 (cut)
    with BuildSketch(Plane.XY.offset(5)):
        with Locations((39.5, 27.680626364)):
            Rectangle(SKETCH_15_W, SKETCH_15_H)
    extrude(amount=-CUT_EXTRUDE_2_DEPTH, mode=Mode.SUBTRACT)

    # 圆角7
    fillet_7_edges = [part.edges().sort_by_distance(p)[0] for p in [
        (41, 30.1, 3.75),
        (38, 30.1, 3.75),
        (41, 25.261252728, 3.75),
        (38, 25.261252728, 3.75),
    ]]
    fillet(fillet_7_edges, radius=FILLET_7_R)

    # 草图16 → 凸台-拉伸9 (add)
    with BuildSketch(Plane.XY.offset(2.3)):
        with Locations((31.5, 16)):
            Circle(SKETCH_16_R)
        with Locations((31.5, 16)):
            Circle(SKETCH_16_R_2, mode=Mode.SUBTRACT)
    extrude(amount=EXTRUDE_9_DEPTH)

    # 草图16<2> → 凸台-拉伸10 (add)
    with BuildSketch(Plane.XY.offset(2.3).offset(EXTRUDE_START_3)):
        with Locations((31.5, 16)):
            Circle(SKETCH_16_2_R)
    extrude(amount=EXTRUDE_10_DEPTH)

    # 草图16<3> → 切除-拉伸3 (cut)
    with BuildSketch(Plane.XY.offset(2.3).offset(CUT_EXTRUDE_START_2)):
        with Locations((31.5, 16)):
            Circle(SKETCH_16_3_R)
    extrude(amount=CUT_EXTRUDE_3_DEPTH, mode=Mode.SUBTRACT)

    # 圆角8
    fillet_8_edges = [part.edges().sort_by_distance(p)[0] for p in [
        (28.5, 16, 2.3),
        (32.743036158, 13.269640846, -1.7),
    ]]
    fillet(fillet_8_edges, radius=FILLET_8_R)

    # 草图17 → 切除-拉伸4 (cut)
    # profile 1 of 4: a face of its own
    with BuildSketch(Plane(origin=(0, 0, 0), x_dir=(-1, 0, 0), z_dir=(0, 0, -1))):
        with Locations((-45.2, 27.9)):
            Circle(SKETCH_17_R)
        with Locations((-45.2, 27.9)):
            Circle(SKETCH_17_R_2, mode=Mode.SUBTRACT)
    # profile 2 of 4: a face of its own
    with BuildSketch(Plane(origin=(0, 0, 0), x_dir=(-1, 0, 0), z_dir=(0, 0, -1))):
        with Locations((-4.2, 27.9)):
            Circle(SKETCH_17_R)
        with Locations((-4.2, 27.9)):
            Circle(SKETCH_17_R_2, mode=Mode.SUBTRACT)
    # profile 3 of 4: a face of its own
    with BuildSketch(Plane(origin=(0, 0, 0), x_dir=(-1, 0, 0), z_dir=(0, 0, -1))):
        with Locations((-45.2, 4.1)):
            Circle(SKETCH_17_R)
        with Locations((-45.2, 4.1)):
            Circle(SKETCH_17_R_2, mode=Mode.SUBTRACT)
    # profile 4 of 4: a face of its own
    with BuildSketch(Plane(origin=(0, 0, 0), x_dir=(-1, 0, 0), z_dir=(0, 0, -1))):
        with Locations((-4.2, 4.1)):
            Circle(SKETCH_17_R)
        with Locations((-4.2, 4.1)):
            Circle(SKETCH_17_R_2, mode=Mode.SUBTRACT)
    extrude(amount=-CUT_EXTRUDE_4_DEPTH, mode=Mode.SUBTRACT)


solid = part.part
